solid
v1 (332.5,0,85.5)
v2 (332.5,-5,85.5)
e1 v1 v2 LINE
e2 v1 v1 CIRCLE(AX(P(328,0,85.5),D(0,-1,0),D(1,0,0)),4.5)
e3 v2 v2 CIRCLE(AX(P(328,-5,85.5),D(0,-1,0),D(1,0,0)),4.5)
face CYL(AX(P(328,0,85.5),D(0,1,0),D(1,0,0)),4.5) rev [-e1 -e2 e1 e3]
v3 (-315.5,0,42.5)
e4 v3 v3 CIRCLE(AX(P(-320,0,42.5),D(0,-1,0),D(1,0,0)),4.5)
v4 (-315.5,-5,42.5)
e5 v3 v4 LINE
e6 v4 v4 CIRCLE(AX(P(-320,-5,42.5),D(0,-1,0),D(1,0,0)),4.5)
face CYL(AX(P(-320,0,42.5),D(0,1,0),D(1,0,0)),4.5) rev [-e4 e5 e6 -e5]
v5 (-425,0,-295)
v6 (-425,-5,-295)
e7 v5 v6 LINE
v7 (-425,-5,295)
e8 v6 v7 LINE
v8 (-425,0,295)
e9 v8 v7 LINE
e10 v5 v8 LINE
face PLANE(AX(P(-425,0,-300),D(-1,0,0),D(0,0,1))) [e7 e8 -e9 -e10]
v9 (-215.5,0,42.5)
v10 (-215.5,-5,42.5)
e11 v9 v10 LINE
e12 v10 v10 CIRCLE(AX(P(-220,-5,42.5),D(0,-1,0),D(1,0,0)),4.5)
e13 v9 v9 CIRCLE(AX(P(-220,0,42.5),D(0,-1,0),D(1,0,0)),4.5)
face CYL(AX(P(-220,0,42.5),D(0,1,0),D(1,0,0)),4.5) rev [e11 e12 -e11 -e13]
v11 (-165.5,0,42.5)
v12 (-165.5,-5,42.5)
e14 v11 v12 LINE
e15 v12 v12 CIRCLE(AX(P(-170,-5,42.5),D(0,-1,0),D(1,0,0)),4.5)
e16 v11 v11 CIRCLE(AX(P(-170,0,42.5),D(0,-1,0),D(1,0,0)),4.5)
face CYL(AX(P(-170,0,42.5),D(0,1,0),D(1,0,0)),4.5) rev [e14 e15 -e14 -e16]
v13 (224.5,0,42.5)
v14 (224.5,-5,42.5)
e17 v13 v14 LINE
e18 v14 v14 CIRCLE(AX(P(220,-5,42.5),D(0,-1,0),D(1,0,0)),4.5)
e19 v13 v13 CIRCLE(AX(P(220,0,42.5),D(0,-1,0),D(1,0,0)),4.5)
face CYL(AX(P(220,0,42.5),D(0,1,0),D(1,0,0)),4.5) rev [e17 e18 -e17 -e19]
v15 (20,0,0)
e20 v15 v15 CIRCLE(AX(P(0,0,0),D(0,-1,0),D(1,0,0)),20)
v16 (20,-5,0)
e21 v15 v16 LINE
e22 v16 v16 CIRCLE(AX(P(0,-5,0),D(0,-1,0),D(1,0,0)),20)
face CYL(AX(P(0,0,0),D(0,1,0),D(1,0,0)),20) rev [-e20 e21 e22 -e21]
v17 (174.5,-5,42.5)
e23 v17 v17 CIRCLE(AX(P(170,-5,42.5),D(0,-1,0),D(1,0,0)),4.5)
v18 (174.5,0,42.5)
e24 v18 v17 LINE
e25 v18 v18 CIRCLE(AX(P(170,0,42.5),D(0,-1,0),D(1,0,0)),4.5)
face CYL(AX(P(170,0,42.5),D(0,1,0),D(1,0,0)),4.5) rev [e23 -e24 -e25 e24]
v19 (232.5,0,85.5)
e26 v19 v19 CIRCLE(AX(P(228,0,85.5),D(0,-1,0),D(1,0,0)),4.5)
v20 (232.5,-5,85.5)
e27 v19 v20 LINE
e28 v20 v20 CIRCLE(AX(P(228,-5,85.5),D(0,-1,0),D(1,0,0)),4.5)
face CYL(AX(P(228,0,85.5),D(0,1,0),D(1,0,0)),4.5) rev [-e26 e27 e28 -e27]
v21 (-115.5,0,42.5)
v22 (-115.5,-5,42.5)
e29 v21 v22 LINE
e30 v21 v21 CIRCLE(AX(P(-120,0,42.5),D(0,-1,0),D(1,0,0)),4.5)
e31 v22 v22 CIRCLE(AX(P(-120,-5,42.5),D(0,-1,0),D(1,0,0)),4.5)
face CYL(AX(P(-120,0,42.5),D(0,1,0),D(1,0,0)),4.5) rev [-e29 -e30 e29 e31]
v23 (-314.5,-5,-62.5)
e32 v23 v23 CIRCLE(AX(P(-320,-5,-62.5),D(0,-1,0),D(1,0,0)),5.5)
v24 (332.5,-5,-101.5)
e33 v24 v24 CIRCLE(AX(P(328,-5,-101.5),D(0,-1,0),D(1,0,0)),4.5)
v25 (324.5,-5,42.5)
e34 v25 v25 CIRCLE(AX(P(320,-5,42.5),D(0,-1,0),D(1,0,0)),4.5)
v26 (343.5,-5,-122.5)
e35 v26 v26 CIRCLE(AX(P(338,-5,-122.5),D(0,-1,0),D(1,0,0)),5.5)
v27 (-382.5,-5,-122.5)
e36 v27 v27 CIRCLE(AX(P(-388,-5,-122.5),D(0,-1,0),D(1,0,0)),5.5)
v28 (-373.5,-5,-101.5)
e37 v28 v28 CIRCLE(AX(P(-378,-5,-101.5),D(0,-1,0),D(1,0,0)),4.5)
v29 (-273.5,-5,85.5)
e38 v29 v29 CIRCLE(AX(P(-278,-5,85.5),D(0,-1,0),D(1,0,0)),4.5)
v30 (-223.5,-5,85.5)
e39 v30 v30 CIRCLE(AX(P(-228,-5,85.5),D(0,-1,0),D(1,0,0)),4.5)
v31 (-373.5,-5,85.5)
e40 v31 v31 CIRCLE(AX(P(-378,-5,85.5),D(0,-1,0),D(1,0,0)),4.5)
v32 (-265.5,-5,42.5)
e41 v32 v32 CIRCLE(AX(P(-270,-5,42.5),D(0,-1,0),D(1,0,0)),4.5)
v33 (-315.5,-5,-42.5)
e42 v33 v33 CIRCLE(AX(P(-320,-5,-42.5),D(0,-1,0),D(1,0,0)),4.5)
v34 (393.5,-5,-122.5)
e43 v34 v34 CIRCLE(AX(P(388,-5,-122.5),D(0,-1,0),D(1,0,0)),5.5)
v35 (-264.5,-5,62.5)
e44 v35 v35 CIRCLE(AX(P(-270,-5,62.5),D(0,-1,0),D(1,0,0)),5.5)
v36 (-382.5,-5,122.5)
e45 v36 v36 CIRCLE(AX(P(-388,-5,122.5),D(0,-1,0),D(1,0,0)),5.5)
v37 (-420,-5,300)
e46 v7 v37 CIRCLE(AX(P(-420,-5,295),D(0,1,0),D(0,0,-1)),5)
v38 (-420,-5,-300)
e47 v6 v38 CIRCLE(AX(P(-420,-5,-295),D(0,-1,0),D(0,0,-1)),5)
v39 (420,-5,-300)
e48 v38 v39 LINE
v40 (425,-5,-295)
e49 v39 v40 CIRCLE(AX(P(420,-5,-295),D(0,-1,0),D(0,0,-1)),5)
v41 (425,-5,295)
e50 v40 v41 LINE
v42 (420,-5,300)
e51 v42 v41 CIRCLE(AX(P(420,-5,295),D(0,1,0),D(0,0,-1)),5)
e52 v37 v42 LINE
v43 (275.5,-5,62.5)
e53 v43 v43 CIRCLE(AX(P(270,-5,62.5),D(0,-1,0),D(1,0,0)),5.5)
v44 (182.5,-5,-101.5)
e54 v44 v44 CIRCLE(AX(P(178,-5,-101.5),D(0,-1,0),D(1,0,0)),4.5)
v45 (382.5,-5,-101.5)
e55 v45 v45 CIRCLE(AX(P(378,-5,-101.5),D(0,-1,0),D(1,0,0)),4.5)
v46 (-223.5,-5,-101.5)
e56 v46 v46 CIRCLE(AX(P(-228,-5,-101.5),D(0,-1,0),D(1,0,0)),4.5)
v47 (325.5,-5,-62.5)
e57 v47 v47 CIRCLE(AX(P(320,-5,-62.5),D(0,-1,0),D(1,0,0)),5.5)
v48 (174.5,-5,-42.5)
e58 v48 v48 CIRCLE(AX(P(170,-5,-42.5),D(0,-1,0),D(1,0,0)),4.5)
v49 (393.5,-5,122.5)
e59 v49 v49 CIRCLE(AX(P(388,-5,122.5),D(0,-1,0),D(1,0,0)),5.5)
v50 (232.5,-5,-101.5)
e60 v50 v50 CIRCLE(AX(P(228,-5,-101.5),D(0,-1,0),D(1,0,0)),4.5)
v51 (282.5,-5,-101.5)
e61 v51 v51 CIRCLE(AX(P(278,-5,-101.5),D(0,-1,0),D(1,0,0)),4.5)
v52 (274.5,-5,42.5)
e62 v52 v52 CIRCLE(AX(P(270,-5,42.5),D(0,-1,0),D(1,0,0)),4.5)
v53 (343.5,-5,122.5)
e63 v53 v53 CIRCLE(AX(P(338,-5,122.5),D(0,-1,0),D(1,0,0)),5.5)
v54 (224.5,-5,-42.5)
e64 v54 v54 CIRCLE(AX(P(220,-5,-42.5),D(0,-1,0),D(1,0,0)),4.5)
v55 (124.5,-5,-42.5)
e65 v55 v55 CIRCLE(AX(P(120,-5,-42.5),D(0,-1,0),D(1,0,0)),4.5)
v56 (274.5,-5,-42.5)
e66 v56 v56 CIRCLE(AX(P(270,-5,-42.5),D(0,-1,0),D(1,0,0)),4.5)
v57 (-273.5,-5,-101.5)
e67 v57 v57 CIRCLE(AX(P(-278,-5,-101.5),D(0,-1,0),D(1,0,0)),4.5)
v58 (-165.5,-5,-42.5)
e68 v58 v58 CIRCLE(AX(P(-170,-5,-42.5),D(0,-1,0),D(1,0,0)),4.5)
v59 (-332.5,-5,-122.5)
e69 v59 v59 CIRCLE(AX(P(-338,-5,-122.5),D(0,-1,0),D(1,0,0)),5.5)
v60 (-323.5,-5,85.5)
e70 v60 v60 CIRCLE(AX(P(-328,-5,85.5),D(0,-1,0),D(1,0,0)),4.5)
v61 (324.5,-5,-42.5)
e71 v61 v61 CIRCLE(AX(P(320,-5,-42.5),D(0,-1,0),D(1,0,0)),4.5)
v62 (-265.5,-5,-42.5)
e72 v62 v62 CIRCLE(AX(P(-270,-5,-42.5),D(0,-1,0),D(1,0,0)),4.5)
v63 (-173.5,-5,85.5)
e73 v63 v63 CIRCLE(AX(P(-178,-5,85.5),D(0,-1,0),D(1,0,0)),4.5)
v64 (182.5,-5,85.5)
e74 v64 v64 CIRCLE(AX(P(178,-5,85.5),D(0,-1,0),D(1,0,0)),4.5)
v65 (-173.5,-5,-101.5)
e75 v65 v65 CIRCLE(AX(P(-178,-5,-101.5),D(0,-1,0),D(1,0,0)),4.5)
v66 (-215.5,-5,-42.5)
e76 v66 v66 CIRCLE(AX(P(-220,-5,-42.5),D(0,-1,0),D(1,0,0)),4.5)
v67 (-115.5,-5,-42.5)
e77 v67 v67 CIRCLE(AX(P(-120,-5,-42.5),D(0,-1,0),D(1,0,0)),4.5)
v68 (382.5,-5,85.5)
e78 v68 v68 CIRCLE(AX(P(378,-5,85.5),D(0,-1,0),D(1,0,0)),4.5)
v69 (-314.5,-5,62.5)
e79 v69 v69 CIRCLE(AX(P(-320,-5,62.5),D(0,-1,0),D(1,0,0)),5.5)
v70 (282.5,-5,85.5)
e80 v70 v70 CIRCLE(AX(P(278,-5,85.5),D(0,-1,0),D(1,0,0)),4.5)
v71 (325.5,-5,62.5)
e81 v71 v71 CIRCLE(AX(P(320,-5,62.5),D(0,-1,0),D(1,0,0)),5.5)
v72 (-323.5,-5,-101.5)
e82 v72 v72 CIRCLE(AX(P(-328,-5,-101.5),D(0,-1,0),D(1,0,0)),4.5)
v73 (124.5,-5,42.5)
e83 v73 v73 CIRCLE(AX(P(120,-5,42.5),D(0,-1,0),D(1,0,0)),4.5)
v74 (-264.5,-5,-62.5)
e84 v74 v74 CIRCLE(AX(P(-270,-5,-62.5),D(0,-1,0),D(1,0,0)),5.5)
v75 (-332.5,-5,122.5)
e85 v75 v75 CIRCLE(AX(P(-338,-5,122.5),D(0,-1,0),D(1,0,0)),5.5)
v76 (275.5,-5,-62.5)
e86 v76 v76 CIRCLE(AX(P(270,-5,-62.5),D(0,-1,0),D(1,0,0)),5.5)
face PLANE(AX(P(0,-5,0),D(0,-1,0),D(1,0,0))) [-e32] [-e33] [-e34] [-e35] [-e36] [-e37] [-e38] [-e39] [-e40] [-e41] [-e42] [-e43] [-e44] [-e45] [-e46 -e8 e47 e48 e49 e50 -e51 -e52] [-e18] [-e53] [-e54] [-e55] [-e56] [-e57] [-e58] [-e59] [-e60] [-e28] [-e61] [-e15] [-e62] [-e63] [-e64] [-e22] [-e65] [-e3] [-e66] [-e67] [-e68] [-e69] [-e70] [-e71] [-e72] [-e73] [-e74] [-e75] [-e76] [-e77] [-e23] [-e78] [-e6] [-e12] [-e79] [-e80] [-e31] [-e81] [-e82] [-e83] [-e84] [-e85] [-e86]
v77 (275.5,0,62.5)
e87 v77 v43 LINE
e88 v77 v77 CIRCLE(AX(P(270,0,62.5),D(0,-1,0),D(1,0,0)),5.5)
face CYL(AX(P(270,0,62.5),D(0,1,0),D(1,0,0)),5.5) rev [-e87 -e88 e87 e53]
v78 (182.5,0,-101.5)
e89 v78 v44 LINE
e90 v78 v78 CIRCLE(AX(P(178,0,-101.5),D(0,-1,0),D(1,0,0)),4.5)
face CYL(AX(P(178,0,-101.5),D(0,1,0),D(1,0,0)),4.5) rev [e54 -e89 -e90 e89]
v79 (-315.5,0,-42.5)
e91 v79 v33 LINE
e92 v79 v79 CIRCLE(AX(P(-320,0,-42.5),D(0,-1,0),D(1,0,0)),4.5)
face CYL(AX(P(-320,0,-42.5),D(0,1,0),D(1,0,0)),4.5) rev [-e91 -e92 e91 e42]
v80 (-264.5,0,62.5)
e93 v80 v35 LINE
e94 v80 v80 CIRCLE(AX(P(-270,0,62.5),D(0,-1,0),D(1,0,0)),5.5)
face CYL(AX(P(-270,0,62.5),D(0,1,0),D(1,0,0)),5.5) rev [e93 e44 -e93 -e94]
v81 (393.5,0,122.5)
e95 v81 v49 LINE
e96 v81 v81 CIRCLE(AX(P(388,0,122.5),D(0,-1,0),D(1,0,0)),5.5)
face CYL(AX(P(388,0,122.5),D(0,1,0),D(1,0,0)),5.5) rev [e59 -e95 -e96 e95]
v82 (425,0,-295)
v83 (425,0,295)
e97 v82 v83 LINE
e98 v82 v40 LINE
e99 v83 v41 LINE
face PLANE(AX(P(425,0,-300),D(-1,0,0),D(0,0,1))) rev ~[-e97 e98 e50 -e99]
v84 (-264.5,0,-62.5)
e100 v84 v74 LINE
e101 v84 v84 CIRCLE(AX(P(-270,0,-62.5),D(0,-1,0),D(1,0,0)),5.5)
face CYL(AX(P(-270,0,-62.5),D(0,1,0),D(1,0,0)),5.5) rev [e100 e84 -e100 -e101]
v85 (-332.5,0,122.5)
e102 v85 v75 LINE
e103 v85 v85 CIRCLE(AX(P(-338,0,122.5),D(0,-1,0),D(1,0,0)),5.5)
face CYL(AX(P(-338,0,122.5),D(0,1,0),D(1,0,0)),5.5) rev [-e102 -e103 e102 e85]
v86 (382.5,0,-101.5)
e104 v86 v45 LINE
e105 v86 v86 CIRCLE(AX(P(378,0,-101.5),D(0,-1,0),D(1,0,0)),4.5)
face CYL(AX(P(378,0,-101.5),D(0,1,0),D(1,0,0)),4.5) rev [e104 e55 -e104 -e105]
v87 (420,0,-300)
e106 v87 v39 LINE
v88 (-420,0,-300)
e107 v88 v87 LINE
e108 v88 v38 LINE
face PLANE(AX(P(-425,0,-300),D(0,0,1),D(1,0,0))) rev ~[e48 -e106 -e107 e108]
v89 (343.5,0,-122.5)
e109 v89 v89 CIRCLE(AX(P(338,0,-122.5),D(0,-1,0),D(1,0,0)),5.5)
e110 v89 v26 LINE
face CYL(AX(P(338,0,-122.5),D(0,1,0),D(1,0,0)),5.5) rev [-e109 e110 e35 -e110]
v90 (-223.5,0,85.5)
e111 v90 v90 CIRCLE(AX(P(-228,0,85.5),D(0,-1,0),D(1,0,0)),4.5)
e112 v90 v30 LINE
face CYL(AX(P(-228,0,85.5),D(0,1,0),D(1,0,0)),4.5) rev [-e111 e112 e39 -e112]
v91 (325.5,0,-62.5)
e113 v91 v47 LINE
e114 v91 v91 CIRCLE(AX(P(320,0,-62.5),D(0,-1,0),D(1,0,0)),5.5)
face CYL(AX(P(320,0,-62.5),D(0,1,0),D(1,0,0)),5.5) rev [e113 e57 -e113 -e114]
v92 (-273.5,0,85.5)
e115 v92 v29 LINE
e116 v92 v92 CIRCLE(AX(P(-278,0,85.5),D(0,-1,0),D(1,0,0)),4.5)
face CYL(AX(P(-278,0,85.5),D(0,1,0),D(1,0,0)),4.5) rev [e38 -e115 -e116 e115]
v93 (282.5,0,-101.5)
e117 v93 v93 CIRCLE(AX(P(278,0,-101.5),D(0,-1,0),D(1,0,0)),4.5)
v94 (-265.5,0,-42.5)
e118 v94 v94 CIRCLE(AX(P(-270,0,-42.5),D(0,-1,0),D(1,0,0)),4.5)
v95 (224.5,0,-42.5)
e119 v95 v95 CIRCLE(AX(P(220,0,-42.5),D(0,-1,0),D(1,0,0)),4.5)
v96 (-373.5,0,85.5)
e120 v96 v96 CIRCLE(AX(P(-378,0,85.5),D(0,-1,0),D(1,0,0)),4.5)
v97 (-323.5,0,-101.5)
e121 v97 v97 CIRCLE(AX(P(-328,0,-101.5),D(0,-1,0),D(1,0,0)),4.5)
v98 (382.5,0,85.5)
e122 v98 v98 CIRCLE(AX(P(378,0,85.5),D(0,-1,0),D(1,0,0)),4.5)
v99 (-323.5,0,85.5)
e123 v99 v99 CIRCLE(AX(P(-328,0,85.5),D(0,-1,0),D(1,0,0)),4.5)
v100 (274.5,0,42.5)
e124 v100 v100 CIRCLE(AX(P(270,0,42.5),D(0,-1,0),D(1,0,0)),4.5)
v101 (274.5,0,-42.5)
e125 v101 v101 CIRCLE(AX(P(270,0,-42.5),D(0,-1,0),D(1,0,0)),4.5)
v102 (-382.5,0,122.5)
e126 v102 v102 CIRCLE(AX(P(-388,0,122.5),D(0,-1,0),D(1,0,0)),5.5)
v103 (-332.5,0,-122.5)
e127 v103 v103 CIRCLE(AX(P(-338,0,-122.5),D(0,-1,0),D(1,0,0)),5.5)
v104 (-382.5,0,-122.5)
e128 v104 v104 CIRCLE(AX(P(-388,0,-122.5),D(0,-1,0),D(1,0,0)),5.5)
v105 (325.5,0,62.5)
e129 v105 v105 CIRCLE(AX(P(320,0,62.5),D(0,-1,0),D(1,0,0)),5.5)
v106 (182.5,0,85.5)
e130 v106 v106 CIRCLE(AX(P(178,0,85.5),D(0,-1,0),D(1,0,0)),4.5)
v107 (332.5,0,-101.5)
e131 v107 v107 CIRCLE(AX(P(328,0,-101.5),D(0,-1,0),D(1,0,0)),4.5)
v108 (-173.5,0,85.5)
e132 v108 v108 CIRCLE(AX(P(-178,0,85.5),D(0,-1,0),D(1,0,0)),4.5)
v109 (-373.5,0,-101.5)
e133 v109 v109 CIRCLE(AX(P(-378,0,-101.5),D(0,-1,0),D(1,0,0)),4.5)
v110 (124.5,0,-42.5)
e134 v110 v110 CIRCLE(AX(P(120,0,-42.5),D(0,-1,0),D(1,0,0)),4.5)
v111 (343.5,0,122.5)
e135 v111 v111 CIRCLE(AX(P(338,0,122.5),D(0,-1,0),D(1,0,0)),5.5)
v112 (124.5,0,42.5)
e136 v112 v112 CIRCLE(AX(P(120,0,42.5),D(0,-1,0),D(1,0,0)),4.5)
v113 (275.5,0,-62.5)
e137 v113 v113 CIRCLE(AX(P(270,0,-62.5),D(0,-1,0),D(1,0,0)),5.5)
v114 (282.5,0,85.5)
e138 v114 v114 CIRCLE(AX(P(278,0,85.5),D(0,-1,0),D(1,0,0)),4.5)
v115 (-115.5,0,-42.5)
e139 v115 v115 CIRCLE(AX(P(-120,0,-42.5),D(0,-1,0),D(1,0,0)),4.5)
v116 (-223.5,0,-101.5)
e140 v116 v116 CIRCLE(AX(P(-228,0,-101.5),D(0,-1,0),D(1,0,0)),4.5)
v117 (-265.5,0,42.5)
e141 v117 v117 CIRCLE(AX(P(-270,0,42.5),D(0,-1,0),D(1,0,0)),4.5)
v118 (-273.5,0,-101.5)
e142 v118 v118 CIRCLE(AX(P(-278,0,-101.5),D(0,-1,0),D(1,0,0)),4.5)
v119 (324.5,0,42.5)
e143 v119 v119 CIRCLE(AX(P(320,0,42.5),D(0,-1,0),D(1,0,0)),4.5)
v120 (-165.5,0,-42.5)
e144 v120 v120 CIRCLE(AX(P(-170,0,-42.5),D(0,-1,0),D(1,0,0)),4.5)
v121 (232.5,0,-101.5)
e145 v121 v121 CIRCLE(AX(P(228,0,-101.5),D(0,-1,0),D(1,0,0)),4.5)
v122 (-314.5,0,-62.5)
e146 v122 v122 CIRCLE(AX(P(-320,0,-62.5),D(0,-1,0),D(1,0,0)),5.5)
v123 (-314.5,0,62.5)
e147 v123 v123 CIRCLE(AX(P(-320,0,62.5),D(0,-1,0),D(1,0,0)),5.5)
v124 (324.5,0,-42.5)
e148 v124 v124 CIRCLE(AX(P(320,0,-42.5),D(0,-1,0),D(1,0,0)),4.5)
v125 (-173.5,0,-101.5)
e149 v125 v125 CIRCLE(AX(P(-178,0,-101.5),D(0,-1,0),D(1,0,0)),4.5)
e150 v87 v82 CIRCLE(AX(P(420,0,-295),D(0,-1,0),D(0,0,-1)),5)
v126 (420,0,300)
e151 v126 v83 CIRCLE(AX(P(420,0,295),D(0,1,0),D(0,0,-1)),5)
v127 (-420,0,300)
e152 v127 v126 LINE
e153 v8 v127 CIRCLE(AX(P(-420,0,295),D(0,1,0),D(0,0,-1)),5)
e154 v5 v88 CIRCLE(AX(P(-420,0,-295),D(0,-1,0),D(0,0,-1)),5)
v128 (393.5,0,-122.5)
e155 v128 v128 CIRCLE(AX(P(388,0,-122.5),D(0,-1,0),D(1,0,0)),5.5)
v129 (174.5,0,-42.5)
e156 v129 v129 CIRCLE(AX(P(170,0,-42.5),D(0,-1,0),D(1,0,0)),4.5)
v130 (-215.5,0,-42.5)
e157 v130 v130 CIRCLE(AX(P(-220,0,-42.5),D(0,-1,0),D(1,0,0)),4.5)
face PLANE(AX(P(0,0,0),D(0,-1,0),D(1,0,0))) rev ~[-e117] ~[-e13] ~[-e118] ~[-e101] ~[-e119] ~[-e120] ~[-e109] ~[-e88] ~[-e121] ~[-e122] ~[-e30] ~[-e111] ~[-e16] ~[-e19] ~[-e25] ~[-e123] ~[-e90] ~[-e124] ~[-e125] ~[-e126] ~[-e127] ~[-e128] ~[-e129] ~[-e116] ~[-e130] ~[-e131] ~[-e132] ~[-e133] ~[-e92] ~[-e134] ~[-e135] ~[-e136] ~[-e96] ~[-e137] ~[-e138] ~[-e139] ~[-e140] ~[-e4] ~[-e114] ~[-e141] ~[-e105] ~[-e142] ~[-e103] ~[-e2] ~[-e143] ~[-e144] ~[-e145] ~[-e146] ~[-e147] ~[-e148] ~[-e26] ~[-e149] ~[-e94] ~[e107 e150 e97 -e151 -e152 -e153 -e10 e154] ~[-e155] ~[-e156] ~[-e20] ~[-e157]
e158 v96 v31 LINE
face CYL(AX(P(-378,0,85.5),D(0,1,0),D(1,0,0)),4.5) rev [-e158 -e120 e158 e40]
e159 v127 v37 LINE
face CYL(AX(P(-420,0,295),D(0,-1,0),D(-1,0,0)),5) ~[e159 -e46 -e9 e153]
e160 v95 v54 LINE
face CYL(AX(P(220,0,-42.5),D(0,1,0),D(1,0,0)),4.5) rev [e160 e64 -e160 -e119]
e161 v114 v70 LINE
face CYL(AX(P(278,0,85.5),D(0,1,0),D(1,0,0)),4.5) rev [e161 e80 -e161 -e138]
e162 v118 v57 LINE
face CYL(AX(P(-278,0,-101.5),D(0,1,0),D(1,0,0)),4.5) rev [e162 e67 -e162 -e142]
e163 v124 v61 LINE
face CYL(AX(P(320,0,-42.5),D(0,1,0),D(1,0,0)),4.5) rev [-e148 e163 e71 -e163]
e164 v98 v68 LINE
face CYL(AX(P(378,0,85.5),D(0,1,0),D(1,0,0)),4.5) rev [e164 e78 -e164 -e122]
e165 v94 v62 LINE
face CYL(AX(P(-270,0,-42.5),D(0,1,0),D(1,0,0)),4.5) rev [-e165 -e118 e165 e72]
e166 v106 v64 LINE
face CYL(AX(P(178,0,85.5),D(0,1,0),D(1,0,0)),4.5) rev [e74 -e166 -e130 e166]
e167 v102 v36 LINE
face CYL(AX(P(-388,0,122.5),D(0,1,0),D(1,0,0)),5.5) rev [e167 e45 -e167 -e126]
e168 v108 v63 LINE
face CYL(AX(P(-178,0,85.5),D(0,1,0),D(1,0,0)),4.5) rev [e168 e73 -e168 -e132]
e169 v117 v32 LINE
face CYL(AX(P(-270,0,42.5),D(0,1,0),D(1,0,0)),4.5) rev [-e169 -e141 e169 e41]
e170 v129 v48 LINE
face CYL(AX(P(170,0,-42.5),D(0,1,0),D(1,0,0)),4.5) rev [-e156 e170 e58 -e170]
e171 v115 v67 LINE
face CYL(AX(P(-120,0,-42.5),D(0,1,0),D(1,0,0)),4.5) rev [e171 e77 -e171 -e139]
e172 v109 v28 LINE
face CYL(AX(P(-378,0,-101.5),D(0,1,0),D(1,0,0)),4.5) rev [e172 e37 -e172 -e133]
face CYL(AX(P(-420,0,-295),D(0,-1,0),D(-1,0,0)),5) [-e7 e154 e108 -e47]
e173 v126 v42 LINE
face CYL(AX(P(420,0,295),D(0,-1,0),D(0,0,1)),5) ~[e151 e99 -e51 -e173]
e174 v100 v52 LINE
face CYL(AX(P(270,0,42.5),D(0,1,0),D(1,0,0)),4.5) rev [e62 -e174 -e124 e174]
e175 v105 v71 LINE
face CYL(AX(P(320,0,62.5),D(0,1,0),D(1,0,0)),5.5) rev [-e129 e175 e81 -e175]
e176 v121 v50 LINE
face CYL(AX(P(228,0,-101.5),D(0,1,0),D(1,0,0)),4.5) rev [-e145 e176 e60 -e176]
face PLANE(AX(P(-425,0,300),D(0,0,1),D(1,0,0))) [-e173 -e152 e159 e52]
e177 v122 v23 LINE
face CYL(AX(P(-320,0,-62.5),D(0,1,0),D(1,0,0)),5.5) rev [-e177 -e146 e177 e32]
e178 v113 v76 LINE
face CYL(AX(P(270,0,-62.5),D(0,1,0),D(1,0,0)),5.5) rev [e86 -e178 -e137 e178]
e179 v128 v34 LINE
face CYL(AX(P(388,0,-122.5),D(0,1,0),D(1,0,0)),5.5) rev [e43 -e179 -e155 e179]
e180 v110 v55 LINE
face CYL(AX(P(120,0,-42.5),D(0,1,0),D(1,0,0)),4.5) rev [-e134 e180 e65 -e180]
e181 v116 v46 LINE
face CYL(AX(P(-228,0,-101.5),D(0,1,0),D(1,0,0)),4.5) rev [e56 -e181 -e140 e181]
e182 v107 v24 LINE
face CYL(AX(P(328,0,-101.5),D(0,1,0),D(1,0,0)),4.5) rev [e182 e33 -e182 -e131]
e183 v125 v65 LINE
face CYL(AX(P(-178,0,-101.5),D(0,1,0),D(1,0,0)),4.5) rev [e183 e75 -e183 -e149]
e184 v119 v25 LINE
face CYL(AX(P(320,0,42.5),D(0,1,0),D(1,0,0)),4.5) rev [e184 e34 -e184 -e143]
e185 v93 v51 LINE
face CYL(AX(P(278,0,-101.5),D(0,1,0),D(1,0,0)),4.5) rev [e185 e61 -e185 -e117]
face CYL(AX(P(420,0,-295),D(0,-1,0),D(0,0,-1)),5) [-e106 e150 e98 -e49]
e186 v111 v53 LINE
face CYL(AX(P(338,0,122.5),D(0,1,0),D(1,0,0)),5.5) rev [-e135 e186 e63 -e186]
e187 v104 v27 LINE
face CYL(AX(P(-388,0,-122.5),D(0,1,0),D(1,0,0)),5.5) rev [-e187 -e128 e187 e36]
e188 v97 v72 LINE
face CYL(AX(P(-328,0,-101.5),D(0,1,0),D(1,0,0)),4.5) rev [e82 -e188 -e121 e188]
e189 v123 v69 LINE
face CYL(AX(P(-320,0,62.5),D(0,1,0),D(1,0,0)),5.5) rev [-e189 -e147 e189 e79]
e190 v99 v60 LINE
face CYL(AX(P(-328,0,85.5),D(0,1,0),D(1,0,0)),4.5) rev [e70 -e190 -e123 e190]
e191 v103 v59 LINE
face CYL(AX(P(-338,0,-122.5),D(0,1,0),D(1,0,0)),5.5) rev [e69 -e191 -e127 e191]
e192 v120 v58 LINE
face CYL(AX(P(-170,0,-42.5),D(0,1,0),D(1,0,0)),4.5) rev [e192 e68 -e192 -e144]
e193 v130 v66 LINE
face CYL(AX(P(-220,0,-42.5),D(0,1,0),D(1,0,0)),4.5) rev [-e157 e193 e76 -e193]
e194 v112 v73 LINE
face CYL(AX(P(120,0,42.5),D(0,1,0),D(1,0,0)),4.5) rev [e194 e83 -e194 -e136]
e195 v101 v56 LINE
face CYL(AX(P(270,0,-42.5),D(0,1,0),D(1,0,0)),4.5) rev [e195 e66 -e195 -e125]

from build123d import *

# Parameters (mm, degrees)
F0_W     = 850
F0_H     = 600
F0_R     = 5.5
F0_R_2   = 4.5
F0_R_3   = 20
F1_DEPTH = 5
F2_R     = 5


with BuildPart() as f1:
    # F0 (on Front) → F1 (new body)
    with BuildSketch(Plane.XZ):
        Rectangle(F0_W, F0_H)
        with Locations((-388, -122.5)):
            Circle(F0_R, mode=Mode.SUBTRACT)
        with Locations((-338, -122.5)):
            Circle(F0_R, mode=Mode.SUBTRACT)
        with Locations((-378, -101.5)):
            Circle(F0_R_2, mode=Mode.SUBTRACT)
        with Locations((-328, -101.5)):
            Circle(F0_R_2, mode=Mode.SUBTRACT)
        with Locations((-278, -101.5)):
            Circle(F0_R_2, mode=Mode.SUBTRACT)
        with Locations((-228, -101.5)):
            Circle(F0_R_2, mode=Mode.SUBTRACT)
        with Locations((-320, -62.5)):
            Circle(F0_R, mode=Mode.SUBTRACT)
        with Locations((-320, -42.5)):
            Circle(F0_R_2, mode=Mode.SUBTRACT)
        with Locations((-270, -62.5)):
            Circle(F0_R, mode=Mode.SUBTRACT)
        with Locations((-270, -42.5)):
            Circle(F0_R_2, mode=Mode.SUBTRACT)
        with Locations((-220, -42.5)):
            Circle(F0_R_2, mode=Mode.SUBTRACT)
        with Locations((-178, -101.5)):
            Circle(F0_R_2, mode=Mode.SUBTRACT)
        with Locations((-170, -42.5)):
            Circle(F0_R_2, mode=Mode.SUBTRACT)
        with Locations((-120, -42.5)):
            Circle(F0_R_2, mode=Mode.SUBTRACT)
        with Locations((178, -101.5)):
            Circle(F0_R_2, mode=Mode.SUBTRACT)
        with Locations((120, -42.5)):
            Circle(F0_R_2, mode=Mode.SUBTRACT)
        with Locations((170, -42.5)):
            Circle(F0_R_2, mode=Mode.SUBTRACT)
        with Locations((228, -101.5)):
            Circle(F0_R_2, mode=Mode.SUBTRACT)
        with Locations((278, -101.5)):
            Circle(F0_R_2, mode=Mode.SUBTRACT)
        with Locations((338, -122.5)):
            Circle(F0_R, mode=Mode.SUBTRACT)
        with Locations((388, -122.5)):
            Circle(F0_R, mode=Mode.SUBTRACT)
        with Locations((328, -101.5)):
            Circle(F0_R_2, mode=Mode.SUBTRACT)
        with Locations((378, -101.5)):
            Circle(F0_R_2, mode=Mode.SUBTRACT)
        with Locations((220, -42.5)):
            Circle(F0_R_2, mode=Mode.SUBTRACT)
        with Locations((270, -62.5)):
            Circle(F0_R, mode=Mode.SUBTRACT)
        with Locations((270, -42.5)):
            Circle(F0_R_2, mode=Mode.SUBTRACT)
        with Locations((320, -62.5)):
            Circle(F0_R, mode=Mode.SUBTRACT)
        with Locations((320, -42.5)):
            Circle(F0_R_2, mode=Mode.SUBTRACT)
        with Locations((-320, 42.5)):
            Circle(F0_R_2, mode=Mode.SUBTRACT)
        with Locations((-320, 62.5)):
            Circle(F0_R, mode=Mode.SUBTRACT)
        with Locations((-270, 42.5)):
            Circle(F0_R_2, mode=Mode.SUBTRACT)
        with Locations((-270, 62.5)):
            Circle(F0_R, mode=Mode.SUBTRACT)
        with Locations((-220, 42.5)):
            Circle(F0_R_2, mode=Mode.SUBTRACT)
        with Locations((-378, 85.5)):
            Circle(F0_R_2, mode=Mode.SUBTRACT)
        with Locations((-328, 85.5)):
            Circle(F0_R_2, mode=Mode.SUBTRACT)
        with Locations((-388, 122.5)):
            Circle(F0_R, mode=Mode.SUBTRACT)
        with Locations((-338, 122.5)):
            Circle(F0_R, mode=Mode.SUBTRACT)
        with Locations((-278, 85.5)):
            Circle(F0_R_2, mode=Mode.SUBTRACT)
        with Locations((-228, 85.5)):
            Circle(F0_R_2, mode=Mode.SUBTRACT)
        with Locations((-170, 42.5)):
            Circle(F0_R_2, mode=Mode.SUBTRACT)
        with Locations((-120, 42.5)):
            Circle(F0_R_2, mode=Mode.SUBTRACT)
        Circle(F0_R_3, mode=Mode.SUBTRACT)
        with Locations((-178, 85.5)):
            Circle(F0_R_2, mode=Mode.SUBTRACT)
        with Locations((120, 42.5)):
            Circle(F0_R_2, mode=Mode.SUBTRACT)
        with Locations((170, 42.5)):
            Circle(F0_R_2, mode=Mode.SUBTRACT)
        with Locations((178, 85.5)):
            Circle(F0_R_2, mode=Mode.SUBTRACT)
        with Locations((220, 42.5)):
            Circle(F0_R_2, mode=Mode.SUBTRACT)
        with Locations((270, 42.5)):
            Circle(F0_R_2, mode=Mode.SUBTRACT)
        with Locations((270, 62.5)):
            Circle(F0_R, mode=Mode.SUBTRACT)
        with Locations((320, 42.5)):
            Circle(F0_R_2, mode=Mode.SUBTRACT)
        with Locations((320, 62.5)):
            Circle(F0_R, mode=Mode.SUBTRACT)
        with Locations((228, 85.5)):
            Circle(F0_R_2, mode=Mode.SUBTRACT)
        with Locations((278, 85.5)):
            Circle(F0_R_2, mode=Mode.SUBTRACT)
        with Locations((328, 85.5)):
            Circle(F0_R_2, mode=Mode.SUBTRACT)
        with Locations((378, 85.5)):
            Circle(F0_R_2, mode=Mode.SUBTRACT)
        with Locations((338, 122.5)):
            Circle(F0_R, mode=Mode.SUBTRACT)
        with Locations((388, 122.5)):
            Circle(F0_R, mode=Mode.SUBTRACT)
    extrude(amount=F1_DEPTH)

    # F2
    f2_edges = [f1.edges().sort_by_distance(p)[0] for p in [
        (-425, -2.5, 300),
        (425, -2.5, 300),
        (425, -2.5, -300),
        (-425, -2.5, -300),
    ]]
    fillet(f2_edges, radius=F2_R)


solid = f1.part
